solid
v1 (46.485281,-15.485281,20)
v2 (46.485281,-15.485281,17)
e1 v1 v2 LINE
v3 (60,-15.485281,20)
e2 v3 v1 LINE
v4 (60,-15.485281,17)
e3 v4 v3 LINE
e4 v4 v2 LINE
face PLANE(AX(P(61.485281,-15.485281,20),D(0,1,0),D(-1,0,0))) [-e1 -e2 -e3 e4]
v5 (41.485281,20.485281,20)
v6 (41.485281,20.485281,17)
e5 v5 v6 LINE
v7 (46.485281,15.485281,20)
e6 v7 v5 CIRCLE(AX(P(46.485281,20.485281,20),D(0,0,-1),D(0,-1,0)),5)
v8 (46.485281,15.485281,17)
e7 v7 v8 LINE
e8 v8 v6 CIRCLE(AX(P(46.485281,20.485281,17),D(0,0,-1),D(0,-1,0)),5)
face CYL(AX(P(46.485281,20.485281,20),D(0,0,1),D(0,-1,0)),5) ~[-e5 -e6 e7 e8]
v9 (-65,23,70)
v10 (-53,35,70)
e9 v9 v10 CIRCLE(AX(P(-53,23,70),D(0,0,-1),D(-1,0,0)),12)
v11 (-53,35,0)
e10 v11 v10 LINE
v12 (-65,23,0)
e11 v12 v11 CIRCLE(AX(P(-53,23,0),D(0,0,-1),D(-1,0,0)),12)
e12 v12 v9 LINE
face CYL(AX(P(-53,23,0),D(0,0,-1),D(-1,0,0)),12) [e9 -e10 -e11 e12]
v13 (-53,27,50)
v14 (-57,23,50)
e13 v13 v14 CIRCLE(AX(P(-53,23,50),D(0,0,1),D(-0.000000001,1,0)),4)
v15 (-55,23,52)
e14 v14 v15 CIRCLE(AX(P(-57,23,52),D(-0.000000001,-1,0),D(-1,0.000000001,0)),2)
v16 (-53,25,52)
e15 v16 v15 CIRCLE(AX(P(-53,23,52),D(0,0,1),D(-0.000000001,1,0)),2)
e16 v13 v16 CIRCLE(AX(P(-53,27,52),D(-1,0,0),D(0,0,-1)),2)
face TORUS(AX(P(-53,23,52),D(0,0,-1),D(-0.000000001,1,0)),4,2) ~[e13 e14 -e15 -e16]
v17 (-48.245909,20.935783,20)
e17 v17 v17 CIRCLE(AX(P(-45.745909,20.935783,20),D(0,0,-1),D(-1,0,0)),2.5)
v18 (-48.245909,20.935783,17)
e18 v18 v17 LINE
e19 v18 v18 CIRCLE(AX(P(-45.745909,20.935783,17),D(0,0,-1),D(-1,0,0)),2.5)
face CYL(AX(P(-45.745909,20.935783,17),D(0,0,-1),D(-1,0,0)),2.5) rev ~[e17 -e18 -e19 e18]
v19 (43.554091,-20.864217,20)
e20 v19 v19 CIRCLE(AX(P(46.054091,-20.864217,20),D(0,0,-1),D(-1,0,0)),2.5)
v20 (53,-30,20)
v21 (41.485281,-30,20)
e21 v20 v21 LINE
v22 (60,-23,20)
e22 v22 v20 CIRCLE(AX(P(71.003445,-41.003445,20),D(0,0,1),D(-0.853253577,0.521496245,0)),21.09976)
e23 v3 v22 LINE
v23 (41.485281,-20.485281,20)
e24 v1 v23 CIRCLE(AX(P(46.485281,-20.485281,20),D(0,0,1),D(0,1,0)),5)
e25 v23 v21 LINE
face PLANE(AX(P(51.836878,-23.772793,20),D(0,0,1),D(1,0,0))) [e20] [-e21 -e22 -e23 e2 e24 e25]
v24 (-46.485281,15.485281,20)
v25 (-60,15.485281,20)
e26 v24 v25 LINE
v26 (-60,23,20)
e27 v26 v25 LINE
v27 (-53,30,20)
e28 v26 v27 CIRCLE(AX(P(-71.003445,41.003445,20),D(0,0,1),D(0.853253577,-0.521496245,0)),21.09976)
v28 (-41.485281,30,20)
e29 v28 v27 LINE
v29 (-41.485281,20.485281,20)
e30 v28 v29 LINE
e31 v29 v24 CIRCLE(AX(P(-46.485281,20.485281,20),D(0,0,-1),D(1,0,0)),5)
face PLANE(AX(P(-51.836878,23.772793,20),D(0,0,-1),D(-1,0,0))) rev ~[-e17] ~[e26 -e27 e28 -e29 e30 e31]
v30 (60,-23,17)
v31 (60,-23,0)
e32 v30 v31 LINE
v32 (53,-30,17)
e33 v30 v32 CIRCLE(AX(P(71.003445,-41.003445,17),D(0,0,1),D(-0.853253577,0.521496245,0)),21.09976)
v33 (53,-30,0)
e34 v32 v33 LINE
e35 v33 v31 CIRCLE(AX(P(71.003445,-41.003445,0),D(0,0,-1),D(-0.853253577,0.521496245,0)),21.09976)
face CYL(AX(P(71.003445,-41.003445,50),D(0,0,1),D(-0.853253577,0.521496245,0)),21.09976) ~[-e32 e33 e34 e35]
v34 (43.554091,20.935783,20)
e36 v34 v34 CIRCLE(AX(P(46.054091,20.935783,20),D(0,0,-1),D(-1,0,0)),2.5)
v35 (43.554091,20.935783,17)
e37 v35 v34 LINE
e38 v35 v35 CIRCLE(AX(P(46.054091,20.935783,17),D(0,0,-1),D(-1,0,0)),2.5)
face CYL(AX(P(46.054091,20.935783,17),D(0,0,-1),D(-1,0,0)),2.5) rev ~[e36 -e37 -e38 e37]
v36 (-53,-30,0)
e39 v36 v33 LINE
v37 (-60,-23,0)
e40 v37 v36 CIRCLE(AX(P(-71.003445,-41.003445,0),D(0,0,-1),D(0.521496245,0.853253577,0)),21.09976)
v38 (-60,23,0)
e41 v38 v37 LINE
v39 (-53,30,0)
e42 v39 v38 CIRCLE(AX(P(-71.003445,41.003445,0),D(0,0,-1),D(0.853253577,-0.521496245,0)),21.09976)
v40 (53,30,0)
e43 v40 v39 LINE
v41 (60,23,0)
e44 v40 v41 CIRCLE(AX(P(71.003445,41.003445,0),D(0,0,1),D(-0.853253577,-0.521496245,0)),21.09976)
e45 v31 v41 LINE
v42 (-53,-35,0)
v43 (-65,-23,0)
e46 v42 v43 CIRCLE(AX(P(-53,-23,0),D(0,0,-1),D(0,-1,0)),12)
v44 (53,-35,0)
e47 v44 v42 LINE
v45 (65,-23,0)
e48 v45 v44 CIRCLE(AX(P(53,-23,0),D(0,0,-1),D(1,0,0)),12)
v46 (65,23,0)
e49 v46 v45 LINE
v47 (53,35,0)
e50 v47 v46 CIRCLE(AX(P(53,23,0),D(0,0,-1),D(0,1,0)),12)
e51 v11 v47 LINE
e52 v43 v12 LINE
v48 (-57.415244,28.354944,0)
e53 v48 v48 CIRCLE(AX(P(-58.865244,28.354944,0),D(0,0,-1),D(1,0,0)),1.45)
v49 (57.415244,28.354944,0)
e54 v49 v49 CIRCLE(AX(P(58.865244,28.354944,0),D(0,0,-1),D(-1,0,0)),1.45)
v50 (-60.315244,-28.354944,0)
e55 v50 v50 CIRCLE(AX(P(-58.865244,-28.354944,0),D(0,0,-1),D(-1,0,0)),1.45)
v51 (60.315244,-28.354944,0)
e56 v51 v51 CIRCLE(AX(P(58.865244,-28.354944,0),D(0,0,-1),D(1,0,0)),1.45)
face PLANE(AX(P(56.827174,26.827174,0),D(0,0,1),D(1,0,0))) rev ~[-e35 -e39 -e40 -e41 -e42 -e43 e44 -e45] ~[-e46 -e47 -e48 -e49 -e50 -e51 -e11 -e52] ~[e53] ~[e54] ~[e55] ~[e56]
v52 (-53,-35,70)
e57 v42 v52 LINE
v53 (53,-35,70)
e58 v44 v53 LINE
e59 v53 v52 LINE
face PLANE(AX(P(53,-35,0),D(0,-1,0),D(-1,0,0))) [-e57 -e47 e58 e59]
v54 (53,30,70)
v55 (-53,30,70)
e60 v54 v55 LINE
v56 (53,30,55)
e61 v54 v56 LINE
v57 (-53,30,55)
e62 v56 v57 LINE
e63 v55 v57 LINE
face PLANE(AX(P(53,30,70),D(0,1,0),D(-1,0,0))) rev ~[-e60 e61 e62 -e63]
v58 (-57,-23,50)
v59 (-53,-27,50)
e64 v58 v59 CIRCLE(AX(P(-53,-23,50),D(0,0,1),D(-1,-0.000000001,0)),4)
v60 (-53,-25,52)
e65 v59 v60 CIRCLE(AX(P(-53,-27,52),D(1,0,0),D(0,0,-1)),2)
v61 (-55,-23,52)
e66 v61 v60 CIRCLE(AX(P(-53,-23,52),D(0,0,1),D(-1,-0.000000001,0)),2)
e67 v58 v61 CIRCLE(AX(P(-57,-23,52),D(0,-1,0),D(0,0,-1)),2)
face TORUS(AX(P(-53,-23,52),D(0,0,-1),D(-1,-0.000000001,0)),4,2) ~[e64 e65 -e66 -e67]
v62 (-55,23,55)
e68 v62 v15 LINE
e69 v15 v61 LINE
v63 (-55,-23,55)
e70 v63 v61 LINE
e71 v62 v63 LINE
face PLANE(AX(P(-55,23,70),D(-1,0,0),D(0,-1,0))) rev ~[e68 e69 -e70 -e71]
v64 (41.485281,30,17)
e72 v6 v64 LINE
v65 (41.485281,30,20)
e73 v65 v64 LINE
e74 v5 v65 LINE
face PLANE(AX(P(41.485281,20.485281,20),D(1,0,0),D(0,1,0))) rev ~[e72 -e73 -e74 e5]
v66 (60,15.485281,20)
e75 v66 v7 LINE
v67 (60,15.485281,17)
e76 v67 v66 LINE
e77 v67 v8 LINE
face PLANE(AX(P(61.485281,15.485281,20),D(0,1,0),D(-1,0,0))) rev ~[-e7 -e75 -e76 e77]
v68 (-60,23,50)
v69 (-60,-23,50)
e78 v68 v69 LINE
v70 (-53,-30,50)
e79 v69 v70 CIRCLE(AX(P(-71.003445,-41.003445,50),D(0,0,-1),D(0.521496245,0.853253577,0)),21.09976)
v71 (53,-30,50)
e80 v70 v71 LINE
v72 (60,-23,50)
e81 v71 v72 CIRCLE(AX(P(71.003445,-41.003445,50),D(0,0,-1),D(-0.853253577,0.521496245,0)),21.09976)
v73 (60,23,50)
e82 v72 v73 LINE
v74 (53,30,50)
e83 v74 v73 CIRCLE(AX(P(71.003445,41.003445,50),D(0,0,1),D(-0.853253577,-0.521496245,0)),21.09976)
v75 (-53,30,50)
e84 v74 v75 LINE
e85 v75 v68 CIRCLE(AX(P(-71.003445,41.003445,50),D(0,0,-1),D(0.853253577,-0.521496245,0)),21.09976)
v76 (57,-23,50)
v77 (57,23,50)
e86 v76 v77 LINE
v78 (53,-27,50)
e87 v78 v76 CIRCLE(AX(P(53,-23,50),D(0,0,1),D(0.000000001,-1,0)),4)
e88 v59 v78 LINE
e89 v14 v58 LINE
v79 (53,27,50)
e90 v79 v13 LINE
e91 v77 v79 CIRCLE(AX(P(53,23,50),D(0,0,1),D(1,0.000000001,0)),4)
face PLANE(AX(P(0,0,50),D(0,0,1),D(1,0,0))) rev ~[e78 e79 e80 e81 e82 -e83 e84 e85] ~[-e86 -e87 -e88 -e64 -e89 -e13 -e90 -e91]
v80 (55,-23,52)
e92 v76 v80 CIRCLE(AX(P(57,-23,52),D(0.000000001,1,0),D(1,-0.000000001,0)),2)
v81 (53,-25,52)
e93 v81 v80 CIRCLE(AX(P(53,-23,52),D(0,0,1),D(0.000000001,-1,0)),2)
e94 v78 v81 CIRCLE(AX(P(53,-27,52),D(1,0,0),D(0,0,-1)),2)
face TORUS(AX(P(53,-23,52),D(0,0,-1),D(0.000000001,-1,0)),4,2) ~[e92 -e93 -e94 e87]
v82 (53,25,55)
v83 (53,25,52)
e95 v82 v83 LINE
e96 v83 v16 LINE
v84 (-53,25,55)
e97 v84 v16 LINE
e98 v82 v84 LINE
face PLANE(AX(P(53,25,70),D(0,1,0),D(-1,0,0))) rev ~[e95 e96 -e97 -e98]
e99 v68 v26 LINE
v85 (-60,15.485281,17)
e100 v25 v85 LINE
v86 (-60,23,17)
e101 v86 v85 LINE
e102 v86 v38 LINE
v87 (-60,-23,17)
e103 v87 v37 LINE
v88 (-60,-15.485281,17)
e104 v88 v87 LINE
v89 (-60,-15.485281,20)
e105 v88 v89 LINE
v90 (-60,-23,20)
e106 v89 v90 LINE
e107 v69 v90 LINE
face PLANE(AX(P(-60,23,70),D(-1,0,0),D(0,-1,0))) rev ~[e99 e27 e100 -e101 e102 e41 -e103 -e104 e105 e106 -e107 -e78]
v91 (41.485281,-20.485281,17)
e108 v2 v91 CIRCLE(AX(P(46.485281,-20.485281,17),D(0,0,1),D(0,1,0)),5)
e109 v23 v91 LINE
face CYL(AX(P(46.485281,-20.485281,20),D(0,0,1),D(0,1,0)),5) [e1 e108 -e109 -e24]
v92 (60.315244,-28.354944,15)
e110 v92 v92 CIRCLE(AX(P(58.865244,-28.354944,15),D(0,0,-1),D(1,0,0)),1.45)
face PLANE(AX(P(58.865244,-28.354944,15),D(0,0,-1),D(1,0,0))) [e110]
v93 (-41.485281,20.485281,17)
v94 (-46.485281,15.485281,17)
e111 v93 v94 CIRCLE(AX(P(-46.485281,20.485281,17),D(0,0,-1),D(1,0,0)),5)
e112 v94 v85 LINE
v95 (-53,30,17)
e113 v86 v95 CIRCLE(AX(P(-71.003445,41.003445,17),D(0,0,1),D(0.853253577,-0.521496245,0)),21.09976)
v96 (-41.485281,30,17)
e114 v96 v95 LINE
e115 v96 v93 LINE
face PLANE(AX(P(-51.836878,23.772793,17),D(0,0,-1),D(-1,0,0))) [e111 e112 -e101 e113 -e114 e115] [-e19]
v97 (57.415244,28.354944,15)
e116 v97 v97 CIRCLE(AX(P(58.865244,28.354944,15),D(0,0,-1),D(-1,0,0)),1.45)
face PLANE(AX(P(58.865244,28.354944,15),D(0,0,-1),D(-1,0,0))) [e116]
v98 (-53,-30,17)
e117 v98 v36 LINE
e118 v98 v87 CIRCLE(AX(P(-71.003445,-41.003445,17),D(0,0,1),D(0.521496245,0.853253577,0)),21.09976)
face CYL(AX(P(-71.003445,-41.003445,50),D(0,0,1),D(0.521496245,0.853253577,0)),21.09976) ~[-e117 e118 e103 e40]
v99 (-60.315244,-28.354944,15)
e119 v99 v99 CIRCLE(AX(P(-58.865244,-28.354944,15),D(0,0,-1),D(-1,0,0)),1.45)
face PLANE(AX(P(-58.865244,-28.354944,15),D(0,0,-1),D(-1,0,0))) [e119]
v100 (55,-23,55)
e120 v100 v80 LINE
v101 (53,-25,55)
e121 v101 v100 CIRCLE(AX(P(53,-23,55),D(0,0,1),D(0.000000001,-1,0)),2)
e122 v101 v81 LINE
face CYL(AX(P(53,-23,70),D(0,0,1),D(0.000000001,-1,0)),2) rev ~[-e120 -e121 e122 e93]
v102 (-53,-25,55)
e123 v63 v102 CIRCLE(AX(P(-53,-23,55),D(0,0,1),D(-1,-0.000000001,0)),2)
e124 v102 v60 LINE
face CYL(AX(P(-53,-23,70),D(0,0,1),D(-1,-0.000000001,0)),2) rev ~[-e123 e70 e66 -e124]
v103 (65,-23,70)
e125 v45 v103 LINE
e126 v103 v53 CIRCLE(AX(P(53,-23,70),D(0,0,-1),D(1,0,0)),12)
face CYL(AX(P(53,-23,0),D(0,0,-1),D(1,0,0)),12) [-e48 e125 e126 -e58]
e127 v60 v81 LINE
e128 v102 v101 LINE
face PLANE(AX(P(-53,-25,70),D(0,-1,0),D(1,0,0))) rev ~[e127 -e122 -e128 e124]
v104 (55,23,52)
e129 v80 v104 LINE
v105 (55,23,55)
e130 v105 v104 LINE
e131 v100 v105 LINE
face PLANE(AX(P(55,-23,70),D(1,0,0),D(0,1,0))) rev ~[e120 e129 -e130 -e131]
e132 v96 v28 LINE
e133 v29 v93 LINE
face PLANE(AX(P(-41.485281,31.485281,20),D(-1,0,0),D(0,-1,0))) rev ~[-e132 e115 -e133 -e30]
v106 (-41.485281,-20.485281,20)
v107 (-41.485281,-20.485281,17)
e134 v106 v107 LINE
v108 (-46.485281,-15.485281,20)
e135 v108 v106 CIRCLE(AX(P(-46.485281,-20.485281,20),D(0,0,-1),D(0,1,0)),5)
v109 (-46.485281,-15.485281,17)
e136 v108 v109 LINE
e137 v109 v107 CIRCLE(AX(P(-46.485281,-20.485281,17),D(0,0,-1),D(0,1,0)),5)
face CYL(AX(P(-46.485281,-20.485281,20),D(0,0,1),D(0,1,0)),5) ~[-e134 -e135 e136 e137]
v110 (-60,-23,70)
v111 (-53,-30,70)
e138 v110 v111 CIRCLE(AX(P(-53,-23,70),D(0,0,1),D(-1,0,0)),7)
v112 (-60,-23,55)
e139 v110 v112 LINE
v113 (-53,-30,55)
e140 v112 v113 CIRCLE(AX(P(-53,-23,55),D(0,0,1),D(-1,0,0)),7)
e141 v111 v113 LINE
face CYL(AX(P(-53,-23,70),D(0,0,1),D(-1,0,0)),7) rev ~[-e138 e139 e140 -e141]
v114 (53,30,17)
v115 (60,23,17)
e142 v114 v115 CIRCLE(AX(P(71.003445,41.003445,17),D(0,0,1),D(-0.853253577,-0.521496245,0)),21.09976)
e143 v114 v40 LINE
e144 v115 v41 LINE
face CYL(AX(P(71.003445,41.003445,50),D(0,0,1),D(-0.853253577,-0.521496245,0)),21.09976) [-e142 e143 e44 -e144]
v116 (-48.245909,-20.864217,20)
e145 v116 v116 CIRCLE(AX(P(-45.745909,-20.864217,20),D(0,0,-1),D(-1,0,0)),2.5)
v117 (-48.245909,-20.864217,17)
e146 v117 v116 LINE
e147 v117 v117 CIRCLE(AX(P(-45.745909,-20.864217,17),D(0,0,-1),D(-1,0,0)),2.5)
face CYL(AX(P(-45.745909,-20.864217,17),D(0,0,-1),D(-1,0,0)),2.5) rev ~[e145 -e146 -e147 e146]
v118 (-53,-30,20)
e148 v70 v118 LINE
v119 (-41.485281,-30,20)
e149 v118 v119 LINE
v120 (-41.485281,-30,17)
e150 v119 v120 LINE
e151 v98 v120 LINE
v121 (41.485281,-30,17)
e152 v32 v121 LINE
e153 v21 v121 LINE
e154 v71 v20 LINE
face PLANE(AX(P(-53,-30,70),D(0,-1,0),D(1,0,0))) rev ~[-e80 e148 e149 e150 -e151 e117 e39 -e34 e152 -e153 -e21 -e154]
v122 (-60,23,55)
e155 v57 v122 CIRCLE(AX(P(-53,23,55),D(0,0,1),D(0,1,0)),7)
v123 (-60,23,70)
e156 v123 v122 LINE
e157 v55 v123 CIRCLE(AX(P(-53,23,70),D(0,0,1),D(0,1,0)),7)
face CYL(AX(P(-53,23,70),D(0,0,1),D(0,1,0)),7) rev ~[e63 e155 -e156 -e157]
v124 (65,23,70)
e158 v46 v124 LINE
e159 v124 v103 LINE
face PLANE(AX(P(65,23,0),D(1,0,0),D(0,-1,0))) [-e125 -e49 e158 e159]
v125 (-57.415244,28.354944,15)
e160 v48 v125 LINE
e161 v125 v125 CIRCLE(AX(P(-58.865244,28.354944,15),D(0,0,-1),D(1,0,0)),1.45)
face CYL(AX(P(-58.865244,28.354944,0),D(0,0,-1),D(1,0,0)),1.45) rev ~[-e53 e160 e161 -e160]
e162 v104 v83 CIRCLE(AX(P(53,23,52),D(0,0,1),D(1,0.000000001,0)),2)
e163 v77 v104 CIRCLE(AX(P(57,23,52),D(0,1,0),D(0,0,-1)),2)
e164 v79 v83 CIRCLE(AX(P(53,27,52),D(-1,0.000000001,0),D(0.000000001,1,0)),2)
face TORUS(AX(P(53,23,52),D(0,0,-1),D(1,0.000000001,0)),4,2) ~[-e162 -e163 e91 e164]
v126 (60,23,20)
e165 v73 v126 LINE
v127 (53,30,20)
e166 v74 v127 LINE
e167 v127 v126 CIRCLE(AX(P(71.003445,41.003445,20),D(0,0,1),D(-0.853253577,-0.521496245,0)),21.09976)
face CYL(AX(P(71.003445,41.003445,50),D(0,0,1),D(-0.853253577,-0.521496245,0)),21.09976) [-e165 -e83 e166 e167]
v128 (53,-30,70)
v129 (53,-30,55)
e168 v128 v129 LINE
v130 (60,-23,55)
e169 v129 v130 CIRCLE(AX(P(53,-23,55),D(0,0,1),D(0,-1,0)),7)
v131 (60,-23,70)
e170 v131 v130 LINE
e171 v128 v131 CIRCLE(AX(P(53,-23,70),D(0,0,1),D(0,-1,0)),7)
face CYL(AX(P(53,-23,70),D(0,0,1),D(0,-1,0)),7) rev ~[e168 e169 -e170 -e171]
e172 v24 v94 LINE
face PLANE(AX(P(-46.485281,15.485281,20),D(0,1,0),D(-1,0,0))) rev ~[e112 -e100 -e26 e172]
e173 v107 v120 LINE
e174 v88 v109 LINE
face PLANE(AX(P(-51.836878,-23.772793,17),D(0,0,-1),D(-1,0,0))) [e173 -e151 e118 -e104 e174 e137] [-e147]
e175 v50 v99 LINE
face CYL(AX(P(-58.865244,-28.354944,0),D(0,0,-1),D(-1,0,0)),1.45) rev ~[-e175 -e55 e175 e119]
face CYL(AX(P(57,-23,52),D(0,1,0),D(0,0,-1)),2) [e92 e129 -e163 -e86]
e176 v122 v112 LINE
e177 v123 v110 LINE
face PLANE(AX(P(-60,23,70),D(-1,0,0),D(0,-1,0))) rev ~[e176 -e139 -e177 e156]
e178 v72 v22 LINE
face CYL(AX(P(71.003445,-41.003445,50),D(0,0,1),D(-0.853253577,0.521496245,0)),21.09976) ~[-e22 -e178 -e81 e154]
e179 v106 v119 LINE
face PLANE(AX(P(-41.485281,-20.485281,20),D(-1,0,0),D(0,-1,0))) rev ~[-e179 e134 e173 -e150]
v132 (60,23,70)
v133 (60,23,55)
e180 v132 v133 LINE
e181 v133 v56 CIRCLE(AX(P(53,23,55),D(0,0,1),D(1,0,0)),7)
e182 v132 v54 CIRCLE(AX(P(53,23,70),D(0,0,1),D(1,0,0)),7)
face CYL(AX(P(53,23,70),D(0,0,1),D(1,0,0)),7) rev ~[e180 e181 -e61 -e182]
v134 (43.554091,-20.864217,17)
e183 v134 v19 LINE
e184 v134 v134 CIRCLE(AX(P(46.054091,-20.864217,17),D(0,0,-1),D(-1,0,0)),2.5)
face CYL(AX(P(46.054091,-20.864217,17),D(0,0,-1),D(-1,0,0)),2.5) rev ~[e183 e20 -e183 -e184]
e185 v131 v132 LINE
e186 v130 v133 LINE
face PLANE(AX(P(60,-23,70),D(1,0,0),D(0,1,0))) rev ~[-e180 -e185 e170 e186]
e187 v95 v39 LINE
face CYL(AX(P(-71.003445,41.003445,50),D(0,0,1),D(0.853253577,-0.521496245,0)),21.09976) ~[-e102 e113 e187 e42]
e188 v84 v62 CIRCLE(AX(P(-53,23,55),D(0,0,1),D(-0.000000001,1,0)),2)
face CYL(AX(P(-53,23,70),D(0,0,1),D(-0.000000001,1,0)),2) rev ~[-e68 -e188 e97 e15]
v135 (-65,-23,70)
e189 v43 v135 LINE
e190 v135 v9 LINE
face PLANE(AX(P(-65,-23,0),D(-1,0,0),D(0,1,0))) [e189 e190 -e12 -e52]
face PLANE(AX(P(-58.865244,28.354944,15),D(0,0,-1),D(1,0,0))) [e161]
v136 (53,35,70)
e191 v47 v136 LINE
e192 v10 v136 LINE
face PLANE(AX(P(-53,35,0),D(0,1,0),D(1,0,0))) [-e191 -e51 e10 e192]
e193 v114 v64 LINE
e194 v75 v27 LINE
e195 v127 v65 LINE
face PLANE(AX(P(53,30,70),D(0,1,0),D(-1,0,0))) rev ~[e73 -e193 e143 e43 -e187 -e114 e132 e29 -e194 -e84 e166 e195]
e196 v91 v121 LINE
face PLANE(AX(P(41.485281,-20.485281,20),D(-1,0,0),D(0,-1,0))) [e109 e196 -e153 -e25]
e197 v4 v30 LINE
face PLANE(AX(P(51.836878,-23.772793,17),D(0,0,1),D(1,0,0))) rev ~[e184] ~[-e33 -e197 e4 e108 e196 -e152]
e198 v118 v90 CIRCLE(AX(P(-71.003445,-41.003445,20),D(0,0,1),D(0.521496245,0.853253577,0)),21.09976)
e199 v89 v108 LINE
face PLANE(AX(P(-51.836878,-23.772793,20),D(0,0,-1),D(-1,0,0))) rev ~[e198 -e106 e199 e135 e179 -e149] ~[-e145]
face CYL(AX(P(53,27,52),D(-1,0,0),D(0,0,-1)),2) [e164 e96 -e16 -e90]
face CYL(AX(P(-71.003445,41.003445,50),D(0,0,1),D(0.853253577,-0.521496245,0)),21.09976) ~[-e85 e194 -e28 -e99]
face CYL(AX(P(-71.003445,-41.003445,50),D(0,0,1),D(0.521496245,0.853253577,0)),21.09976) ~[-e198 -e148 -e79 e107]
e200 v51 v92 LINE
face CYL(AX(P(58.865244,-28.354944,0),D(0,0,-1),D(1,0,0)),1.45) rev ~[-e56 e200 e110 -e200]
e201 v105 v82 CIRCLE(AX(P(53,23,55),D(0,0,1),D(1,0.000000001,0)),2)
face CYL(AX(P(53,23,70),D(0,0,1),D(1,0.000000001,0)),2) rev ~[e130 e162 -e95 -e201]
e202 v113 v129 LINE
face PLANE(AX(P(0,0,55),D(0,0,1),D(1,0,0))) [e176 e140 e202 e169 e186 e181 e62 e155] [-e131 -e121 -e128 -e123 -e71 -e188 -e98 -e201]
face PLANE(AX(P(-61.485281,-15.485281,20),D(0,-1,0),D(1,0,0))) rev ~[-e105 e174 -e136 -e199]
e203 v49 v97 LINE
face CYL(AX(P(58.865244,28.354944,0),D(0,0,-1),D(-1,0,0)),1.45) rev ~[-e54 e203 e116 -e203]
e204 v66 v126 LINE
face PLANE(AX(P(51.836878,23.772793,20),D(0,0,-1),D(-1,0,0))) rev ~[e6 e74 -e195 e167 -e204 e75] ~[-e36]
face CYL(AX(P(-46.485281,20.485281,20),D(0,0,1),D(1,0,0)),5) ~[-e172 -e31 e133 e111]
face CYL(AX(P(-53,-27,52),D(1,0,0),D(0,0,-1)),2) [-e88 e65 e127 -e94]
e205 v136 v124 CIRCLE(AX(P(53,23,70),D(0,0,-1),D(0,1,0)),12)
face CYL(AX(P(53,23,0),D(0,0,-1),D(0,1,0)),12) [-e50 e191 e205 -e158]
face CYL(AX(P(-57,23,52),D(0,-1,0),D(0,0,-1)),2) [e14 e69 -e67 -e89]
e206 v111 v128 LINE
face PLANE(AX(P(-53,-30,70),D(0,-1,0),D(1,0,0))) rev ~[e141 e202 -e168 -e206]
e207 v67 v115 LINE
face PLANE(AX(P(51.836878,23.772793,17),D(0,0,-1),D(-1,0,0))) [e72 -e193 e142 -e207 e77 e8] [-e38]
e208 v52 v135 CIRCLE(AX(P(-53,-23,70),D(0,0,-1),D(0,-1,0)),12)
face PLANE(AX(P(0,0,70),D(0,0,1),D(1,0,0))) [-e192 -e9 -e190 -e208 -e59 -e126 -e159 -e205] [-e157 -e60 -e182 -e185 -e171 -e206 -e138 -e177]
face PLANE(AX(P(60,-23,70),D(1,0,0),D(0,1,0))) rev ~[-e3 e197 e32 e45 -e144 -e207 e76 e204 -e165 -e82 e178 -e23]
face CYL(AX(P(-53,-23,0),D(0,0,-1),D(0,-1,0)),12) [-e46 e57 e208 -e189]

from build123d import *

# Parameters (mm, degrees)
EXTRUDE_1_DEPTH     = 70
CUT_EXTRUDE_1_DEPTH = 70
EXTRUDE_2_DEPTH     = 20
CUT_EXTRUDE_2_DEPTH = 15
EXTRUDE_3_DEPTH     = 50
SKETCH_5_R          = 1.45
CUT_EXTRUDE_3_DEPTH = 15
FILLET_1_R          = 2
EXTRUDE_4_DEPTH     = 3
SKETCH_7_R          = 2.5
CUT_EXTRUDE_4_DEPTH = 4


with BuildPart() as part:
    # Эскиз1 → Бобышка-Вытянуть1 (new body)
    with BuildSketch(Plane.XY):
        with BuildLine():
            Line((-53, 35), (53, 35))
            ThreePointArc((53, 35), (61.485281374, 31.485281374), (65, 23))
            Line((65, 23), (65, -23))
            ThreePointArc((65, -23), (61.485281374, -31.485281374), (53, -35))
            Line((53, -35), (-53, -35))
            ThreePointArc((-53, -35), (-61.485281374, -31.485281374), (-65, -23))
            Line((-65, -23), (-65, 23))
            ThreePointArc((-65, 23), (-61.485281374, 31.485281374), (-53, 35))
        make_face()
    extrude(amount=EXTRUDE_1_DEPTH)

    # Эскиз2 → Вырез-Вытянуть1 (cut)
    with BuildSketch(Plane.XY.offset(70)):
        with BuildLine():
            Line((-53, -30), (53, -30))
            ThreePointArc((53, -30), (57.949747468, -27.949747468), (60, -23))
            Line((60, -23), (60, 23))
            ThreePointArc((60, 23), (57.949747468, 27.949747468), (53, 30))
            Line((53, 30), (-53, 30))
            ThreePointArc((-53, 30), (-57.949747468, 27.949747468), (-60, 23))
            Line((-60, 23), (-60, -23))
            ThreePointArc((-60, -23), (-57.949747468, -27.949747468), (-53, -30))
        make_face()
    extrude(amount=-CUT_EXTRUDE_1_DEPTH, mode=Mode.SUBTRACT)

    # Эскиз3 → Бобышка-Вытянуть2 (add)
    with BuildSketch(Plane.XY.offset(70)):
        with BuildLine():
            Line((-53, -30), (53, -30))
            ThreePointArc((53, -30), (57.949747468, -27.949747468), (60, -23))
            Line((60, -23), (60, 23))
            ThreePointArc((60, 23), (57.949747468, 27.949747468), (53, 30))
            Line((53, 30), (-53, 30))
            ThreePointArc((-53, 30), (-57.949747468, 27.949747468), (-60, 23))
            Line((-60, 23), (-60, -23))
            ThreePointArc((-60, -23), (-57.949747468, -27.949747468), (-53, -30))
        make_face()
        with BuildLine():
            Line((-53, -25), (53, -25))
            ThreePointArc((53, -25), (54.414213562, -24.414213562), (55, -23))
            Line((55, -23), (55, 23))
            ThreePointArc((55, 23), (54.414213562, 24.414213562), (53, 25))
            Line((53, 25), (-53, 25))
            ThreePointArc((-53, 25), (-54.414213562, 24.414213562), (-55, 23))
            Line((-55, 23), (-55, -23))
            ThreePointArc((-55, -23), (-54.414213562, -24.414213562), (-53, -25))
        make_face(mode=Mode.SUBTRACT)
    extrude(amount=-EXTRUDE_2_DEPTH)

    # Эскиз3<2> → Вырез-Вытянуть2 (cut)
    with BuildSketch(Plane.XY.offset(70)):
        with BuildLine():
            Line((-53, -30), (53, -30))
            ThreePointArc((53, -30), (57.949747468, -27.949747468), (60, -23))
            Line((60, -23), (60, 23))
            ThreePointArc((60, 23), (57.949747468, 27.949747468), (53, 30))
            Line((53, 30), (-53, 30))
            ThreePointArc((-53, 30), (-57.949747468, 27.949747468), (-60, 23))
            Line((-60, 23), (-60, -23))
            ThreePointArc((-60, -23), (-57.949747468, -27.949747468), (-53, -30))
        make_face()
        with BuildLine():
            Line((-53, -25), (53, -25))
            ThreePointArc((53, -25), (54.414213562, -24.414213562), (55, -23))
            Line((55, -23), (55, 23))
            ThreePointArc((55, 23), (54.414213562, 24.414213562), (53, 25))
            Line((53, 25), (-53, 25))
            ThreePointArc((-53, 25), (-54.414213562, 24.414213562), (-55, 23))
            Line((-55, 23), (-55, -23))
            ThreePointArc((-55, -23), (-54.414213562, -24.414213562), (-53, -25))
        make_face(mode=Mode.SUBTRACT)
    extrude(amount=-CUT_EXTRUDE_2_DEPTH, mode=Mode.SUBTRACT)

    # Эскиз4 → Бобышка-Вытянуть3 (add)
    with BuildSketch(Plane(origin=(0, 0, 50), x_dir=(-1, 0, 0), z_dir=(0, 0, -1))):
        with BuildLine():
            ThreePointArc((-53, 30), (-56.083662278, 26.083662278), (-60, 23))
            ThreePointArc((-60, 23), (-57.949747468, 27.949747468), (-53, 30))
        make_face()
        with BuildLine():
            ThreePointArc((53, 30), (56.083662278, 26.083662278), (60, 23))
            ThreePointArc((60, 23), (57.949747468, 27.949747468), (53, 30))
        make_face()
        with BuildLine():
            ThreePointArc((53, -30), (57.949747468, -27.949747468), (60, -23))
            ThreePointArc((60, -23), (56.083662278, -26.083662278), (53, -30))
        make_face()
        with BuildLine():
            ThreePointArc((-53, -30), (-56.083662278, -26.083662278), (-60, -23))
            ThreePointArc((-60, -23), (-57.949747468, -27.949747468), (-53, -30))
        make_face()
    extrude(amount=EXTRUDE_3_DEPTH)

    # Эскиз5 → Вырез-Вытянуть3 (cut)
    with BuildSketch(Plane(origin=(0, 0, 0), x_dir=(-1, 0, 0), z_dir=(0, 0, -1))):
        with Locations((-58.865243762, 28.354943792)):
            Circle(SKETCH_5_R)
        with Locations((58.865243762, 28.354943792)):
            Circle(SKETCH_5_R)
        with Locations((58.865243762, -28.354943792)):
            Circle(SKETCH_5_R)
        with Locations((-58.865243762, -28.354943792)):
            Circle(SKETCH_5_R)
    extrude(amount=-CUT_EXTRUDE_3_DEPTH, mode=Mode.SUBTRACT)

    # Скругление1
    fillet_1_edges = [part.edges().sort_by_distance(p)[0] for p in [
        (54.414213562, -24.414213562, 50),
        (0, -25, 50),
        (-54.414213562, -24.414213562, 50),
        (-55, 0, 50),
        (-54.414213562, 24.414213562, 50),
        (0, 25, 50),
        (54.414213562, 24.414213562, 50),
        (55, 0, 50),
    ]]
    fillet(fillet_1_edges, radius=FILLET_1_R)

    # Эскиз6 → Бобышка-Вытянуть4 (add)
    with BuildSketch(Plane(origin=(0, 0, 20), x_dir=(-1, 0, 0), z_dir=(0, 0, -1))):
        with BuildLine():
            Line((61.485281374, 31.485281374), (41.485281374, 31.485281374))
            Line((41.485281374, 31.485281374), (41.485281374, 20.485281374))
            ThreePointArc((41.485281374, 20.485281374), (42.949747468, 16.949747468), (46.485281374, 15.485281374))
            Line((46.485281374, 15.485281374), (61.485281374, 15.485281374))
            Line((61.485281374, 15.485281374), (61.485281374, 31.485281374))
        make_face()
        with BuildLine():
            Line((-61.485281374, 15.485281374), (-46.485281374, 15.485281374))
            ThreePointArc((-46.485281374, 15.485281374), (-42.949747468, 16.949747468), (-41.485281374, 20.485281374))
            Line((-41.485281374, 20.485281374), (-41.485281374, 31.485281374))
            Line((-41.485281374, 31.485281374), (-61.485281374, 31.485281374))
            Line((-61.485281374, 31.485281374), (-61.485281374, 15.485281374))
        make_face()
        with BuildLine():
            Line((-61.485281374, -31.485281374), (-61.485281374, -15.485281374))
            Line((-61.485281374, -15.485281374), (-46.485281374, -15.485281374))
            ThreePointArc((-46.485281374, -15.485281374), (-42.949747468, -16.949747468), (-41.485281374, -20.485281374))
            Line((-41.485281374, -20.485281374), (-41.485281374, -31.485281374))
            Line((-41.485281374, -31.485281374), (-61.485281374, -31.485281374))
        make_face()
        with BuildLine():
            Line((61.485281374, -15.485281374), (46.485281374, -15.485281374))
            ThreePointArc((46.485281374, -15.485281374), (42.949747468, -16.949747468), (41.485281374, -20.485281374))
            Line((41.485281374, -20.485281374), (41.485281374, -31.485281374))
            Line((41.485281374, -31.485281374), (61.485281374, -31.485281374))
            Line((61.485281374, -31.485281374), (61.485281374, -15.485281374))
        make_face()
    extrude(amount=EXTRUDE_4_DEPTH)

    # Эскиз7 → Вырез-Вытянуть4 (cut)
    with BuildSketch(Plane(origin=(0, 0, 17), x_dir=(-1, 0, 0), z_dir=(0, 0, -1))):
        with Locations((-46.054090748, 20.935782702)):
            Circle(SKETCH_7_R)
        with Locations((45.745909252, 20.935782702)):
            Circle(SKETCH_7_R)
        with Locations((45.745909252, -20.864217298)):
            Circle(SKETCH_7_R)
        with Locations((-46.054090748, -20.864217298)):
            Circle(SKETCH_7_R)
    extrude(amount=-CUT_EXTRUDE_4_DEPTH, mode=Mode.SUBTRACT)


solid = part.part
